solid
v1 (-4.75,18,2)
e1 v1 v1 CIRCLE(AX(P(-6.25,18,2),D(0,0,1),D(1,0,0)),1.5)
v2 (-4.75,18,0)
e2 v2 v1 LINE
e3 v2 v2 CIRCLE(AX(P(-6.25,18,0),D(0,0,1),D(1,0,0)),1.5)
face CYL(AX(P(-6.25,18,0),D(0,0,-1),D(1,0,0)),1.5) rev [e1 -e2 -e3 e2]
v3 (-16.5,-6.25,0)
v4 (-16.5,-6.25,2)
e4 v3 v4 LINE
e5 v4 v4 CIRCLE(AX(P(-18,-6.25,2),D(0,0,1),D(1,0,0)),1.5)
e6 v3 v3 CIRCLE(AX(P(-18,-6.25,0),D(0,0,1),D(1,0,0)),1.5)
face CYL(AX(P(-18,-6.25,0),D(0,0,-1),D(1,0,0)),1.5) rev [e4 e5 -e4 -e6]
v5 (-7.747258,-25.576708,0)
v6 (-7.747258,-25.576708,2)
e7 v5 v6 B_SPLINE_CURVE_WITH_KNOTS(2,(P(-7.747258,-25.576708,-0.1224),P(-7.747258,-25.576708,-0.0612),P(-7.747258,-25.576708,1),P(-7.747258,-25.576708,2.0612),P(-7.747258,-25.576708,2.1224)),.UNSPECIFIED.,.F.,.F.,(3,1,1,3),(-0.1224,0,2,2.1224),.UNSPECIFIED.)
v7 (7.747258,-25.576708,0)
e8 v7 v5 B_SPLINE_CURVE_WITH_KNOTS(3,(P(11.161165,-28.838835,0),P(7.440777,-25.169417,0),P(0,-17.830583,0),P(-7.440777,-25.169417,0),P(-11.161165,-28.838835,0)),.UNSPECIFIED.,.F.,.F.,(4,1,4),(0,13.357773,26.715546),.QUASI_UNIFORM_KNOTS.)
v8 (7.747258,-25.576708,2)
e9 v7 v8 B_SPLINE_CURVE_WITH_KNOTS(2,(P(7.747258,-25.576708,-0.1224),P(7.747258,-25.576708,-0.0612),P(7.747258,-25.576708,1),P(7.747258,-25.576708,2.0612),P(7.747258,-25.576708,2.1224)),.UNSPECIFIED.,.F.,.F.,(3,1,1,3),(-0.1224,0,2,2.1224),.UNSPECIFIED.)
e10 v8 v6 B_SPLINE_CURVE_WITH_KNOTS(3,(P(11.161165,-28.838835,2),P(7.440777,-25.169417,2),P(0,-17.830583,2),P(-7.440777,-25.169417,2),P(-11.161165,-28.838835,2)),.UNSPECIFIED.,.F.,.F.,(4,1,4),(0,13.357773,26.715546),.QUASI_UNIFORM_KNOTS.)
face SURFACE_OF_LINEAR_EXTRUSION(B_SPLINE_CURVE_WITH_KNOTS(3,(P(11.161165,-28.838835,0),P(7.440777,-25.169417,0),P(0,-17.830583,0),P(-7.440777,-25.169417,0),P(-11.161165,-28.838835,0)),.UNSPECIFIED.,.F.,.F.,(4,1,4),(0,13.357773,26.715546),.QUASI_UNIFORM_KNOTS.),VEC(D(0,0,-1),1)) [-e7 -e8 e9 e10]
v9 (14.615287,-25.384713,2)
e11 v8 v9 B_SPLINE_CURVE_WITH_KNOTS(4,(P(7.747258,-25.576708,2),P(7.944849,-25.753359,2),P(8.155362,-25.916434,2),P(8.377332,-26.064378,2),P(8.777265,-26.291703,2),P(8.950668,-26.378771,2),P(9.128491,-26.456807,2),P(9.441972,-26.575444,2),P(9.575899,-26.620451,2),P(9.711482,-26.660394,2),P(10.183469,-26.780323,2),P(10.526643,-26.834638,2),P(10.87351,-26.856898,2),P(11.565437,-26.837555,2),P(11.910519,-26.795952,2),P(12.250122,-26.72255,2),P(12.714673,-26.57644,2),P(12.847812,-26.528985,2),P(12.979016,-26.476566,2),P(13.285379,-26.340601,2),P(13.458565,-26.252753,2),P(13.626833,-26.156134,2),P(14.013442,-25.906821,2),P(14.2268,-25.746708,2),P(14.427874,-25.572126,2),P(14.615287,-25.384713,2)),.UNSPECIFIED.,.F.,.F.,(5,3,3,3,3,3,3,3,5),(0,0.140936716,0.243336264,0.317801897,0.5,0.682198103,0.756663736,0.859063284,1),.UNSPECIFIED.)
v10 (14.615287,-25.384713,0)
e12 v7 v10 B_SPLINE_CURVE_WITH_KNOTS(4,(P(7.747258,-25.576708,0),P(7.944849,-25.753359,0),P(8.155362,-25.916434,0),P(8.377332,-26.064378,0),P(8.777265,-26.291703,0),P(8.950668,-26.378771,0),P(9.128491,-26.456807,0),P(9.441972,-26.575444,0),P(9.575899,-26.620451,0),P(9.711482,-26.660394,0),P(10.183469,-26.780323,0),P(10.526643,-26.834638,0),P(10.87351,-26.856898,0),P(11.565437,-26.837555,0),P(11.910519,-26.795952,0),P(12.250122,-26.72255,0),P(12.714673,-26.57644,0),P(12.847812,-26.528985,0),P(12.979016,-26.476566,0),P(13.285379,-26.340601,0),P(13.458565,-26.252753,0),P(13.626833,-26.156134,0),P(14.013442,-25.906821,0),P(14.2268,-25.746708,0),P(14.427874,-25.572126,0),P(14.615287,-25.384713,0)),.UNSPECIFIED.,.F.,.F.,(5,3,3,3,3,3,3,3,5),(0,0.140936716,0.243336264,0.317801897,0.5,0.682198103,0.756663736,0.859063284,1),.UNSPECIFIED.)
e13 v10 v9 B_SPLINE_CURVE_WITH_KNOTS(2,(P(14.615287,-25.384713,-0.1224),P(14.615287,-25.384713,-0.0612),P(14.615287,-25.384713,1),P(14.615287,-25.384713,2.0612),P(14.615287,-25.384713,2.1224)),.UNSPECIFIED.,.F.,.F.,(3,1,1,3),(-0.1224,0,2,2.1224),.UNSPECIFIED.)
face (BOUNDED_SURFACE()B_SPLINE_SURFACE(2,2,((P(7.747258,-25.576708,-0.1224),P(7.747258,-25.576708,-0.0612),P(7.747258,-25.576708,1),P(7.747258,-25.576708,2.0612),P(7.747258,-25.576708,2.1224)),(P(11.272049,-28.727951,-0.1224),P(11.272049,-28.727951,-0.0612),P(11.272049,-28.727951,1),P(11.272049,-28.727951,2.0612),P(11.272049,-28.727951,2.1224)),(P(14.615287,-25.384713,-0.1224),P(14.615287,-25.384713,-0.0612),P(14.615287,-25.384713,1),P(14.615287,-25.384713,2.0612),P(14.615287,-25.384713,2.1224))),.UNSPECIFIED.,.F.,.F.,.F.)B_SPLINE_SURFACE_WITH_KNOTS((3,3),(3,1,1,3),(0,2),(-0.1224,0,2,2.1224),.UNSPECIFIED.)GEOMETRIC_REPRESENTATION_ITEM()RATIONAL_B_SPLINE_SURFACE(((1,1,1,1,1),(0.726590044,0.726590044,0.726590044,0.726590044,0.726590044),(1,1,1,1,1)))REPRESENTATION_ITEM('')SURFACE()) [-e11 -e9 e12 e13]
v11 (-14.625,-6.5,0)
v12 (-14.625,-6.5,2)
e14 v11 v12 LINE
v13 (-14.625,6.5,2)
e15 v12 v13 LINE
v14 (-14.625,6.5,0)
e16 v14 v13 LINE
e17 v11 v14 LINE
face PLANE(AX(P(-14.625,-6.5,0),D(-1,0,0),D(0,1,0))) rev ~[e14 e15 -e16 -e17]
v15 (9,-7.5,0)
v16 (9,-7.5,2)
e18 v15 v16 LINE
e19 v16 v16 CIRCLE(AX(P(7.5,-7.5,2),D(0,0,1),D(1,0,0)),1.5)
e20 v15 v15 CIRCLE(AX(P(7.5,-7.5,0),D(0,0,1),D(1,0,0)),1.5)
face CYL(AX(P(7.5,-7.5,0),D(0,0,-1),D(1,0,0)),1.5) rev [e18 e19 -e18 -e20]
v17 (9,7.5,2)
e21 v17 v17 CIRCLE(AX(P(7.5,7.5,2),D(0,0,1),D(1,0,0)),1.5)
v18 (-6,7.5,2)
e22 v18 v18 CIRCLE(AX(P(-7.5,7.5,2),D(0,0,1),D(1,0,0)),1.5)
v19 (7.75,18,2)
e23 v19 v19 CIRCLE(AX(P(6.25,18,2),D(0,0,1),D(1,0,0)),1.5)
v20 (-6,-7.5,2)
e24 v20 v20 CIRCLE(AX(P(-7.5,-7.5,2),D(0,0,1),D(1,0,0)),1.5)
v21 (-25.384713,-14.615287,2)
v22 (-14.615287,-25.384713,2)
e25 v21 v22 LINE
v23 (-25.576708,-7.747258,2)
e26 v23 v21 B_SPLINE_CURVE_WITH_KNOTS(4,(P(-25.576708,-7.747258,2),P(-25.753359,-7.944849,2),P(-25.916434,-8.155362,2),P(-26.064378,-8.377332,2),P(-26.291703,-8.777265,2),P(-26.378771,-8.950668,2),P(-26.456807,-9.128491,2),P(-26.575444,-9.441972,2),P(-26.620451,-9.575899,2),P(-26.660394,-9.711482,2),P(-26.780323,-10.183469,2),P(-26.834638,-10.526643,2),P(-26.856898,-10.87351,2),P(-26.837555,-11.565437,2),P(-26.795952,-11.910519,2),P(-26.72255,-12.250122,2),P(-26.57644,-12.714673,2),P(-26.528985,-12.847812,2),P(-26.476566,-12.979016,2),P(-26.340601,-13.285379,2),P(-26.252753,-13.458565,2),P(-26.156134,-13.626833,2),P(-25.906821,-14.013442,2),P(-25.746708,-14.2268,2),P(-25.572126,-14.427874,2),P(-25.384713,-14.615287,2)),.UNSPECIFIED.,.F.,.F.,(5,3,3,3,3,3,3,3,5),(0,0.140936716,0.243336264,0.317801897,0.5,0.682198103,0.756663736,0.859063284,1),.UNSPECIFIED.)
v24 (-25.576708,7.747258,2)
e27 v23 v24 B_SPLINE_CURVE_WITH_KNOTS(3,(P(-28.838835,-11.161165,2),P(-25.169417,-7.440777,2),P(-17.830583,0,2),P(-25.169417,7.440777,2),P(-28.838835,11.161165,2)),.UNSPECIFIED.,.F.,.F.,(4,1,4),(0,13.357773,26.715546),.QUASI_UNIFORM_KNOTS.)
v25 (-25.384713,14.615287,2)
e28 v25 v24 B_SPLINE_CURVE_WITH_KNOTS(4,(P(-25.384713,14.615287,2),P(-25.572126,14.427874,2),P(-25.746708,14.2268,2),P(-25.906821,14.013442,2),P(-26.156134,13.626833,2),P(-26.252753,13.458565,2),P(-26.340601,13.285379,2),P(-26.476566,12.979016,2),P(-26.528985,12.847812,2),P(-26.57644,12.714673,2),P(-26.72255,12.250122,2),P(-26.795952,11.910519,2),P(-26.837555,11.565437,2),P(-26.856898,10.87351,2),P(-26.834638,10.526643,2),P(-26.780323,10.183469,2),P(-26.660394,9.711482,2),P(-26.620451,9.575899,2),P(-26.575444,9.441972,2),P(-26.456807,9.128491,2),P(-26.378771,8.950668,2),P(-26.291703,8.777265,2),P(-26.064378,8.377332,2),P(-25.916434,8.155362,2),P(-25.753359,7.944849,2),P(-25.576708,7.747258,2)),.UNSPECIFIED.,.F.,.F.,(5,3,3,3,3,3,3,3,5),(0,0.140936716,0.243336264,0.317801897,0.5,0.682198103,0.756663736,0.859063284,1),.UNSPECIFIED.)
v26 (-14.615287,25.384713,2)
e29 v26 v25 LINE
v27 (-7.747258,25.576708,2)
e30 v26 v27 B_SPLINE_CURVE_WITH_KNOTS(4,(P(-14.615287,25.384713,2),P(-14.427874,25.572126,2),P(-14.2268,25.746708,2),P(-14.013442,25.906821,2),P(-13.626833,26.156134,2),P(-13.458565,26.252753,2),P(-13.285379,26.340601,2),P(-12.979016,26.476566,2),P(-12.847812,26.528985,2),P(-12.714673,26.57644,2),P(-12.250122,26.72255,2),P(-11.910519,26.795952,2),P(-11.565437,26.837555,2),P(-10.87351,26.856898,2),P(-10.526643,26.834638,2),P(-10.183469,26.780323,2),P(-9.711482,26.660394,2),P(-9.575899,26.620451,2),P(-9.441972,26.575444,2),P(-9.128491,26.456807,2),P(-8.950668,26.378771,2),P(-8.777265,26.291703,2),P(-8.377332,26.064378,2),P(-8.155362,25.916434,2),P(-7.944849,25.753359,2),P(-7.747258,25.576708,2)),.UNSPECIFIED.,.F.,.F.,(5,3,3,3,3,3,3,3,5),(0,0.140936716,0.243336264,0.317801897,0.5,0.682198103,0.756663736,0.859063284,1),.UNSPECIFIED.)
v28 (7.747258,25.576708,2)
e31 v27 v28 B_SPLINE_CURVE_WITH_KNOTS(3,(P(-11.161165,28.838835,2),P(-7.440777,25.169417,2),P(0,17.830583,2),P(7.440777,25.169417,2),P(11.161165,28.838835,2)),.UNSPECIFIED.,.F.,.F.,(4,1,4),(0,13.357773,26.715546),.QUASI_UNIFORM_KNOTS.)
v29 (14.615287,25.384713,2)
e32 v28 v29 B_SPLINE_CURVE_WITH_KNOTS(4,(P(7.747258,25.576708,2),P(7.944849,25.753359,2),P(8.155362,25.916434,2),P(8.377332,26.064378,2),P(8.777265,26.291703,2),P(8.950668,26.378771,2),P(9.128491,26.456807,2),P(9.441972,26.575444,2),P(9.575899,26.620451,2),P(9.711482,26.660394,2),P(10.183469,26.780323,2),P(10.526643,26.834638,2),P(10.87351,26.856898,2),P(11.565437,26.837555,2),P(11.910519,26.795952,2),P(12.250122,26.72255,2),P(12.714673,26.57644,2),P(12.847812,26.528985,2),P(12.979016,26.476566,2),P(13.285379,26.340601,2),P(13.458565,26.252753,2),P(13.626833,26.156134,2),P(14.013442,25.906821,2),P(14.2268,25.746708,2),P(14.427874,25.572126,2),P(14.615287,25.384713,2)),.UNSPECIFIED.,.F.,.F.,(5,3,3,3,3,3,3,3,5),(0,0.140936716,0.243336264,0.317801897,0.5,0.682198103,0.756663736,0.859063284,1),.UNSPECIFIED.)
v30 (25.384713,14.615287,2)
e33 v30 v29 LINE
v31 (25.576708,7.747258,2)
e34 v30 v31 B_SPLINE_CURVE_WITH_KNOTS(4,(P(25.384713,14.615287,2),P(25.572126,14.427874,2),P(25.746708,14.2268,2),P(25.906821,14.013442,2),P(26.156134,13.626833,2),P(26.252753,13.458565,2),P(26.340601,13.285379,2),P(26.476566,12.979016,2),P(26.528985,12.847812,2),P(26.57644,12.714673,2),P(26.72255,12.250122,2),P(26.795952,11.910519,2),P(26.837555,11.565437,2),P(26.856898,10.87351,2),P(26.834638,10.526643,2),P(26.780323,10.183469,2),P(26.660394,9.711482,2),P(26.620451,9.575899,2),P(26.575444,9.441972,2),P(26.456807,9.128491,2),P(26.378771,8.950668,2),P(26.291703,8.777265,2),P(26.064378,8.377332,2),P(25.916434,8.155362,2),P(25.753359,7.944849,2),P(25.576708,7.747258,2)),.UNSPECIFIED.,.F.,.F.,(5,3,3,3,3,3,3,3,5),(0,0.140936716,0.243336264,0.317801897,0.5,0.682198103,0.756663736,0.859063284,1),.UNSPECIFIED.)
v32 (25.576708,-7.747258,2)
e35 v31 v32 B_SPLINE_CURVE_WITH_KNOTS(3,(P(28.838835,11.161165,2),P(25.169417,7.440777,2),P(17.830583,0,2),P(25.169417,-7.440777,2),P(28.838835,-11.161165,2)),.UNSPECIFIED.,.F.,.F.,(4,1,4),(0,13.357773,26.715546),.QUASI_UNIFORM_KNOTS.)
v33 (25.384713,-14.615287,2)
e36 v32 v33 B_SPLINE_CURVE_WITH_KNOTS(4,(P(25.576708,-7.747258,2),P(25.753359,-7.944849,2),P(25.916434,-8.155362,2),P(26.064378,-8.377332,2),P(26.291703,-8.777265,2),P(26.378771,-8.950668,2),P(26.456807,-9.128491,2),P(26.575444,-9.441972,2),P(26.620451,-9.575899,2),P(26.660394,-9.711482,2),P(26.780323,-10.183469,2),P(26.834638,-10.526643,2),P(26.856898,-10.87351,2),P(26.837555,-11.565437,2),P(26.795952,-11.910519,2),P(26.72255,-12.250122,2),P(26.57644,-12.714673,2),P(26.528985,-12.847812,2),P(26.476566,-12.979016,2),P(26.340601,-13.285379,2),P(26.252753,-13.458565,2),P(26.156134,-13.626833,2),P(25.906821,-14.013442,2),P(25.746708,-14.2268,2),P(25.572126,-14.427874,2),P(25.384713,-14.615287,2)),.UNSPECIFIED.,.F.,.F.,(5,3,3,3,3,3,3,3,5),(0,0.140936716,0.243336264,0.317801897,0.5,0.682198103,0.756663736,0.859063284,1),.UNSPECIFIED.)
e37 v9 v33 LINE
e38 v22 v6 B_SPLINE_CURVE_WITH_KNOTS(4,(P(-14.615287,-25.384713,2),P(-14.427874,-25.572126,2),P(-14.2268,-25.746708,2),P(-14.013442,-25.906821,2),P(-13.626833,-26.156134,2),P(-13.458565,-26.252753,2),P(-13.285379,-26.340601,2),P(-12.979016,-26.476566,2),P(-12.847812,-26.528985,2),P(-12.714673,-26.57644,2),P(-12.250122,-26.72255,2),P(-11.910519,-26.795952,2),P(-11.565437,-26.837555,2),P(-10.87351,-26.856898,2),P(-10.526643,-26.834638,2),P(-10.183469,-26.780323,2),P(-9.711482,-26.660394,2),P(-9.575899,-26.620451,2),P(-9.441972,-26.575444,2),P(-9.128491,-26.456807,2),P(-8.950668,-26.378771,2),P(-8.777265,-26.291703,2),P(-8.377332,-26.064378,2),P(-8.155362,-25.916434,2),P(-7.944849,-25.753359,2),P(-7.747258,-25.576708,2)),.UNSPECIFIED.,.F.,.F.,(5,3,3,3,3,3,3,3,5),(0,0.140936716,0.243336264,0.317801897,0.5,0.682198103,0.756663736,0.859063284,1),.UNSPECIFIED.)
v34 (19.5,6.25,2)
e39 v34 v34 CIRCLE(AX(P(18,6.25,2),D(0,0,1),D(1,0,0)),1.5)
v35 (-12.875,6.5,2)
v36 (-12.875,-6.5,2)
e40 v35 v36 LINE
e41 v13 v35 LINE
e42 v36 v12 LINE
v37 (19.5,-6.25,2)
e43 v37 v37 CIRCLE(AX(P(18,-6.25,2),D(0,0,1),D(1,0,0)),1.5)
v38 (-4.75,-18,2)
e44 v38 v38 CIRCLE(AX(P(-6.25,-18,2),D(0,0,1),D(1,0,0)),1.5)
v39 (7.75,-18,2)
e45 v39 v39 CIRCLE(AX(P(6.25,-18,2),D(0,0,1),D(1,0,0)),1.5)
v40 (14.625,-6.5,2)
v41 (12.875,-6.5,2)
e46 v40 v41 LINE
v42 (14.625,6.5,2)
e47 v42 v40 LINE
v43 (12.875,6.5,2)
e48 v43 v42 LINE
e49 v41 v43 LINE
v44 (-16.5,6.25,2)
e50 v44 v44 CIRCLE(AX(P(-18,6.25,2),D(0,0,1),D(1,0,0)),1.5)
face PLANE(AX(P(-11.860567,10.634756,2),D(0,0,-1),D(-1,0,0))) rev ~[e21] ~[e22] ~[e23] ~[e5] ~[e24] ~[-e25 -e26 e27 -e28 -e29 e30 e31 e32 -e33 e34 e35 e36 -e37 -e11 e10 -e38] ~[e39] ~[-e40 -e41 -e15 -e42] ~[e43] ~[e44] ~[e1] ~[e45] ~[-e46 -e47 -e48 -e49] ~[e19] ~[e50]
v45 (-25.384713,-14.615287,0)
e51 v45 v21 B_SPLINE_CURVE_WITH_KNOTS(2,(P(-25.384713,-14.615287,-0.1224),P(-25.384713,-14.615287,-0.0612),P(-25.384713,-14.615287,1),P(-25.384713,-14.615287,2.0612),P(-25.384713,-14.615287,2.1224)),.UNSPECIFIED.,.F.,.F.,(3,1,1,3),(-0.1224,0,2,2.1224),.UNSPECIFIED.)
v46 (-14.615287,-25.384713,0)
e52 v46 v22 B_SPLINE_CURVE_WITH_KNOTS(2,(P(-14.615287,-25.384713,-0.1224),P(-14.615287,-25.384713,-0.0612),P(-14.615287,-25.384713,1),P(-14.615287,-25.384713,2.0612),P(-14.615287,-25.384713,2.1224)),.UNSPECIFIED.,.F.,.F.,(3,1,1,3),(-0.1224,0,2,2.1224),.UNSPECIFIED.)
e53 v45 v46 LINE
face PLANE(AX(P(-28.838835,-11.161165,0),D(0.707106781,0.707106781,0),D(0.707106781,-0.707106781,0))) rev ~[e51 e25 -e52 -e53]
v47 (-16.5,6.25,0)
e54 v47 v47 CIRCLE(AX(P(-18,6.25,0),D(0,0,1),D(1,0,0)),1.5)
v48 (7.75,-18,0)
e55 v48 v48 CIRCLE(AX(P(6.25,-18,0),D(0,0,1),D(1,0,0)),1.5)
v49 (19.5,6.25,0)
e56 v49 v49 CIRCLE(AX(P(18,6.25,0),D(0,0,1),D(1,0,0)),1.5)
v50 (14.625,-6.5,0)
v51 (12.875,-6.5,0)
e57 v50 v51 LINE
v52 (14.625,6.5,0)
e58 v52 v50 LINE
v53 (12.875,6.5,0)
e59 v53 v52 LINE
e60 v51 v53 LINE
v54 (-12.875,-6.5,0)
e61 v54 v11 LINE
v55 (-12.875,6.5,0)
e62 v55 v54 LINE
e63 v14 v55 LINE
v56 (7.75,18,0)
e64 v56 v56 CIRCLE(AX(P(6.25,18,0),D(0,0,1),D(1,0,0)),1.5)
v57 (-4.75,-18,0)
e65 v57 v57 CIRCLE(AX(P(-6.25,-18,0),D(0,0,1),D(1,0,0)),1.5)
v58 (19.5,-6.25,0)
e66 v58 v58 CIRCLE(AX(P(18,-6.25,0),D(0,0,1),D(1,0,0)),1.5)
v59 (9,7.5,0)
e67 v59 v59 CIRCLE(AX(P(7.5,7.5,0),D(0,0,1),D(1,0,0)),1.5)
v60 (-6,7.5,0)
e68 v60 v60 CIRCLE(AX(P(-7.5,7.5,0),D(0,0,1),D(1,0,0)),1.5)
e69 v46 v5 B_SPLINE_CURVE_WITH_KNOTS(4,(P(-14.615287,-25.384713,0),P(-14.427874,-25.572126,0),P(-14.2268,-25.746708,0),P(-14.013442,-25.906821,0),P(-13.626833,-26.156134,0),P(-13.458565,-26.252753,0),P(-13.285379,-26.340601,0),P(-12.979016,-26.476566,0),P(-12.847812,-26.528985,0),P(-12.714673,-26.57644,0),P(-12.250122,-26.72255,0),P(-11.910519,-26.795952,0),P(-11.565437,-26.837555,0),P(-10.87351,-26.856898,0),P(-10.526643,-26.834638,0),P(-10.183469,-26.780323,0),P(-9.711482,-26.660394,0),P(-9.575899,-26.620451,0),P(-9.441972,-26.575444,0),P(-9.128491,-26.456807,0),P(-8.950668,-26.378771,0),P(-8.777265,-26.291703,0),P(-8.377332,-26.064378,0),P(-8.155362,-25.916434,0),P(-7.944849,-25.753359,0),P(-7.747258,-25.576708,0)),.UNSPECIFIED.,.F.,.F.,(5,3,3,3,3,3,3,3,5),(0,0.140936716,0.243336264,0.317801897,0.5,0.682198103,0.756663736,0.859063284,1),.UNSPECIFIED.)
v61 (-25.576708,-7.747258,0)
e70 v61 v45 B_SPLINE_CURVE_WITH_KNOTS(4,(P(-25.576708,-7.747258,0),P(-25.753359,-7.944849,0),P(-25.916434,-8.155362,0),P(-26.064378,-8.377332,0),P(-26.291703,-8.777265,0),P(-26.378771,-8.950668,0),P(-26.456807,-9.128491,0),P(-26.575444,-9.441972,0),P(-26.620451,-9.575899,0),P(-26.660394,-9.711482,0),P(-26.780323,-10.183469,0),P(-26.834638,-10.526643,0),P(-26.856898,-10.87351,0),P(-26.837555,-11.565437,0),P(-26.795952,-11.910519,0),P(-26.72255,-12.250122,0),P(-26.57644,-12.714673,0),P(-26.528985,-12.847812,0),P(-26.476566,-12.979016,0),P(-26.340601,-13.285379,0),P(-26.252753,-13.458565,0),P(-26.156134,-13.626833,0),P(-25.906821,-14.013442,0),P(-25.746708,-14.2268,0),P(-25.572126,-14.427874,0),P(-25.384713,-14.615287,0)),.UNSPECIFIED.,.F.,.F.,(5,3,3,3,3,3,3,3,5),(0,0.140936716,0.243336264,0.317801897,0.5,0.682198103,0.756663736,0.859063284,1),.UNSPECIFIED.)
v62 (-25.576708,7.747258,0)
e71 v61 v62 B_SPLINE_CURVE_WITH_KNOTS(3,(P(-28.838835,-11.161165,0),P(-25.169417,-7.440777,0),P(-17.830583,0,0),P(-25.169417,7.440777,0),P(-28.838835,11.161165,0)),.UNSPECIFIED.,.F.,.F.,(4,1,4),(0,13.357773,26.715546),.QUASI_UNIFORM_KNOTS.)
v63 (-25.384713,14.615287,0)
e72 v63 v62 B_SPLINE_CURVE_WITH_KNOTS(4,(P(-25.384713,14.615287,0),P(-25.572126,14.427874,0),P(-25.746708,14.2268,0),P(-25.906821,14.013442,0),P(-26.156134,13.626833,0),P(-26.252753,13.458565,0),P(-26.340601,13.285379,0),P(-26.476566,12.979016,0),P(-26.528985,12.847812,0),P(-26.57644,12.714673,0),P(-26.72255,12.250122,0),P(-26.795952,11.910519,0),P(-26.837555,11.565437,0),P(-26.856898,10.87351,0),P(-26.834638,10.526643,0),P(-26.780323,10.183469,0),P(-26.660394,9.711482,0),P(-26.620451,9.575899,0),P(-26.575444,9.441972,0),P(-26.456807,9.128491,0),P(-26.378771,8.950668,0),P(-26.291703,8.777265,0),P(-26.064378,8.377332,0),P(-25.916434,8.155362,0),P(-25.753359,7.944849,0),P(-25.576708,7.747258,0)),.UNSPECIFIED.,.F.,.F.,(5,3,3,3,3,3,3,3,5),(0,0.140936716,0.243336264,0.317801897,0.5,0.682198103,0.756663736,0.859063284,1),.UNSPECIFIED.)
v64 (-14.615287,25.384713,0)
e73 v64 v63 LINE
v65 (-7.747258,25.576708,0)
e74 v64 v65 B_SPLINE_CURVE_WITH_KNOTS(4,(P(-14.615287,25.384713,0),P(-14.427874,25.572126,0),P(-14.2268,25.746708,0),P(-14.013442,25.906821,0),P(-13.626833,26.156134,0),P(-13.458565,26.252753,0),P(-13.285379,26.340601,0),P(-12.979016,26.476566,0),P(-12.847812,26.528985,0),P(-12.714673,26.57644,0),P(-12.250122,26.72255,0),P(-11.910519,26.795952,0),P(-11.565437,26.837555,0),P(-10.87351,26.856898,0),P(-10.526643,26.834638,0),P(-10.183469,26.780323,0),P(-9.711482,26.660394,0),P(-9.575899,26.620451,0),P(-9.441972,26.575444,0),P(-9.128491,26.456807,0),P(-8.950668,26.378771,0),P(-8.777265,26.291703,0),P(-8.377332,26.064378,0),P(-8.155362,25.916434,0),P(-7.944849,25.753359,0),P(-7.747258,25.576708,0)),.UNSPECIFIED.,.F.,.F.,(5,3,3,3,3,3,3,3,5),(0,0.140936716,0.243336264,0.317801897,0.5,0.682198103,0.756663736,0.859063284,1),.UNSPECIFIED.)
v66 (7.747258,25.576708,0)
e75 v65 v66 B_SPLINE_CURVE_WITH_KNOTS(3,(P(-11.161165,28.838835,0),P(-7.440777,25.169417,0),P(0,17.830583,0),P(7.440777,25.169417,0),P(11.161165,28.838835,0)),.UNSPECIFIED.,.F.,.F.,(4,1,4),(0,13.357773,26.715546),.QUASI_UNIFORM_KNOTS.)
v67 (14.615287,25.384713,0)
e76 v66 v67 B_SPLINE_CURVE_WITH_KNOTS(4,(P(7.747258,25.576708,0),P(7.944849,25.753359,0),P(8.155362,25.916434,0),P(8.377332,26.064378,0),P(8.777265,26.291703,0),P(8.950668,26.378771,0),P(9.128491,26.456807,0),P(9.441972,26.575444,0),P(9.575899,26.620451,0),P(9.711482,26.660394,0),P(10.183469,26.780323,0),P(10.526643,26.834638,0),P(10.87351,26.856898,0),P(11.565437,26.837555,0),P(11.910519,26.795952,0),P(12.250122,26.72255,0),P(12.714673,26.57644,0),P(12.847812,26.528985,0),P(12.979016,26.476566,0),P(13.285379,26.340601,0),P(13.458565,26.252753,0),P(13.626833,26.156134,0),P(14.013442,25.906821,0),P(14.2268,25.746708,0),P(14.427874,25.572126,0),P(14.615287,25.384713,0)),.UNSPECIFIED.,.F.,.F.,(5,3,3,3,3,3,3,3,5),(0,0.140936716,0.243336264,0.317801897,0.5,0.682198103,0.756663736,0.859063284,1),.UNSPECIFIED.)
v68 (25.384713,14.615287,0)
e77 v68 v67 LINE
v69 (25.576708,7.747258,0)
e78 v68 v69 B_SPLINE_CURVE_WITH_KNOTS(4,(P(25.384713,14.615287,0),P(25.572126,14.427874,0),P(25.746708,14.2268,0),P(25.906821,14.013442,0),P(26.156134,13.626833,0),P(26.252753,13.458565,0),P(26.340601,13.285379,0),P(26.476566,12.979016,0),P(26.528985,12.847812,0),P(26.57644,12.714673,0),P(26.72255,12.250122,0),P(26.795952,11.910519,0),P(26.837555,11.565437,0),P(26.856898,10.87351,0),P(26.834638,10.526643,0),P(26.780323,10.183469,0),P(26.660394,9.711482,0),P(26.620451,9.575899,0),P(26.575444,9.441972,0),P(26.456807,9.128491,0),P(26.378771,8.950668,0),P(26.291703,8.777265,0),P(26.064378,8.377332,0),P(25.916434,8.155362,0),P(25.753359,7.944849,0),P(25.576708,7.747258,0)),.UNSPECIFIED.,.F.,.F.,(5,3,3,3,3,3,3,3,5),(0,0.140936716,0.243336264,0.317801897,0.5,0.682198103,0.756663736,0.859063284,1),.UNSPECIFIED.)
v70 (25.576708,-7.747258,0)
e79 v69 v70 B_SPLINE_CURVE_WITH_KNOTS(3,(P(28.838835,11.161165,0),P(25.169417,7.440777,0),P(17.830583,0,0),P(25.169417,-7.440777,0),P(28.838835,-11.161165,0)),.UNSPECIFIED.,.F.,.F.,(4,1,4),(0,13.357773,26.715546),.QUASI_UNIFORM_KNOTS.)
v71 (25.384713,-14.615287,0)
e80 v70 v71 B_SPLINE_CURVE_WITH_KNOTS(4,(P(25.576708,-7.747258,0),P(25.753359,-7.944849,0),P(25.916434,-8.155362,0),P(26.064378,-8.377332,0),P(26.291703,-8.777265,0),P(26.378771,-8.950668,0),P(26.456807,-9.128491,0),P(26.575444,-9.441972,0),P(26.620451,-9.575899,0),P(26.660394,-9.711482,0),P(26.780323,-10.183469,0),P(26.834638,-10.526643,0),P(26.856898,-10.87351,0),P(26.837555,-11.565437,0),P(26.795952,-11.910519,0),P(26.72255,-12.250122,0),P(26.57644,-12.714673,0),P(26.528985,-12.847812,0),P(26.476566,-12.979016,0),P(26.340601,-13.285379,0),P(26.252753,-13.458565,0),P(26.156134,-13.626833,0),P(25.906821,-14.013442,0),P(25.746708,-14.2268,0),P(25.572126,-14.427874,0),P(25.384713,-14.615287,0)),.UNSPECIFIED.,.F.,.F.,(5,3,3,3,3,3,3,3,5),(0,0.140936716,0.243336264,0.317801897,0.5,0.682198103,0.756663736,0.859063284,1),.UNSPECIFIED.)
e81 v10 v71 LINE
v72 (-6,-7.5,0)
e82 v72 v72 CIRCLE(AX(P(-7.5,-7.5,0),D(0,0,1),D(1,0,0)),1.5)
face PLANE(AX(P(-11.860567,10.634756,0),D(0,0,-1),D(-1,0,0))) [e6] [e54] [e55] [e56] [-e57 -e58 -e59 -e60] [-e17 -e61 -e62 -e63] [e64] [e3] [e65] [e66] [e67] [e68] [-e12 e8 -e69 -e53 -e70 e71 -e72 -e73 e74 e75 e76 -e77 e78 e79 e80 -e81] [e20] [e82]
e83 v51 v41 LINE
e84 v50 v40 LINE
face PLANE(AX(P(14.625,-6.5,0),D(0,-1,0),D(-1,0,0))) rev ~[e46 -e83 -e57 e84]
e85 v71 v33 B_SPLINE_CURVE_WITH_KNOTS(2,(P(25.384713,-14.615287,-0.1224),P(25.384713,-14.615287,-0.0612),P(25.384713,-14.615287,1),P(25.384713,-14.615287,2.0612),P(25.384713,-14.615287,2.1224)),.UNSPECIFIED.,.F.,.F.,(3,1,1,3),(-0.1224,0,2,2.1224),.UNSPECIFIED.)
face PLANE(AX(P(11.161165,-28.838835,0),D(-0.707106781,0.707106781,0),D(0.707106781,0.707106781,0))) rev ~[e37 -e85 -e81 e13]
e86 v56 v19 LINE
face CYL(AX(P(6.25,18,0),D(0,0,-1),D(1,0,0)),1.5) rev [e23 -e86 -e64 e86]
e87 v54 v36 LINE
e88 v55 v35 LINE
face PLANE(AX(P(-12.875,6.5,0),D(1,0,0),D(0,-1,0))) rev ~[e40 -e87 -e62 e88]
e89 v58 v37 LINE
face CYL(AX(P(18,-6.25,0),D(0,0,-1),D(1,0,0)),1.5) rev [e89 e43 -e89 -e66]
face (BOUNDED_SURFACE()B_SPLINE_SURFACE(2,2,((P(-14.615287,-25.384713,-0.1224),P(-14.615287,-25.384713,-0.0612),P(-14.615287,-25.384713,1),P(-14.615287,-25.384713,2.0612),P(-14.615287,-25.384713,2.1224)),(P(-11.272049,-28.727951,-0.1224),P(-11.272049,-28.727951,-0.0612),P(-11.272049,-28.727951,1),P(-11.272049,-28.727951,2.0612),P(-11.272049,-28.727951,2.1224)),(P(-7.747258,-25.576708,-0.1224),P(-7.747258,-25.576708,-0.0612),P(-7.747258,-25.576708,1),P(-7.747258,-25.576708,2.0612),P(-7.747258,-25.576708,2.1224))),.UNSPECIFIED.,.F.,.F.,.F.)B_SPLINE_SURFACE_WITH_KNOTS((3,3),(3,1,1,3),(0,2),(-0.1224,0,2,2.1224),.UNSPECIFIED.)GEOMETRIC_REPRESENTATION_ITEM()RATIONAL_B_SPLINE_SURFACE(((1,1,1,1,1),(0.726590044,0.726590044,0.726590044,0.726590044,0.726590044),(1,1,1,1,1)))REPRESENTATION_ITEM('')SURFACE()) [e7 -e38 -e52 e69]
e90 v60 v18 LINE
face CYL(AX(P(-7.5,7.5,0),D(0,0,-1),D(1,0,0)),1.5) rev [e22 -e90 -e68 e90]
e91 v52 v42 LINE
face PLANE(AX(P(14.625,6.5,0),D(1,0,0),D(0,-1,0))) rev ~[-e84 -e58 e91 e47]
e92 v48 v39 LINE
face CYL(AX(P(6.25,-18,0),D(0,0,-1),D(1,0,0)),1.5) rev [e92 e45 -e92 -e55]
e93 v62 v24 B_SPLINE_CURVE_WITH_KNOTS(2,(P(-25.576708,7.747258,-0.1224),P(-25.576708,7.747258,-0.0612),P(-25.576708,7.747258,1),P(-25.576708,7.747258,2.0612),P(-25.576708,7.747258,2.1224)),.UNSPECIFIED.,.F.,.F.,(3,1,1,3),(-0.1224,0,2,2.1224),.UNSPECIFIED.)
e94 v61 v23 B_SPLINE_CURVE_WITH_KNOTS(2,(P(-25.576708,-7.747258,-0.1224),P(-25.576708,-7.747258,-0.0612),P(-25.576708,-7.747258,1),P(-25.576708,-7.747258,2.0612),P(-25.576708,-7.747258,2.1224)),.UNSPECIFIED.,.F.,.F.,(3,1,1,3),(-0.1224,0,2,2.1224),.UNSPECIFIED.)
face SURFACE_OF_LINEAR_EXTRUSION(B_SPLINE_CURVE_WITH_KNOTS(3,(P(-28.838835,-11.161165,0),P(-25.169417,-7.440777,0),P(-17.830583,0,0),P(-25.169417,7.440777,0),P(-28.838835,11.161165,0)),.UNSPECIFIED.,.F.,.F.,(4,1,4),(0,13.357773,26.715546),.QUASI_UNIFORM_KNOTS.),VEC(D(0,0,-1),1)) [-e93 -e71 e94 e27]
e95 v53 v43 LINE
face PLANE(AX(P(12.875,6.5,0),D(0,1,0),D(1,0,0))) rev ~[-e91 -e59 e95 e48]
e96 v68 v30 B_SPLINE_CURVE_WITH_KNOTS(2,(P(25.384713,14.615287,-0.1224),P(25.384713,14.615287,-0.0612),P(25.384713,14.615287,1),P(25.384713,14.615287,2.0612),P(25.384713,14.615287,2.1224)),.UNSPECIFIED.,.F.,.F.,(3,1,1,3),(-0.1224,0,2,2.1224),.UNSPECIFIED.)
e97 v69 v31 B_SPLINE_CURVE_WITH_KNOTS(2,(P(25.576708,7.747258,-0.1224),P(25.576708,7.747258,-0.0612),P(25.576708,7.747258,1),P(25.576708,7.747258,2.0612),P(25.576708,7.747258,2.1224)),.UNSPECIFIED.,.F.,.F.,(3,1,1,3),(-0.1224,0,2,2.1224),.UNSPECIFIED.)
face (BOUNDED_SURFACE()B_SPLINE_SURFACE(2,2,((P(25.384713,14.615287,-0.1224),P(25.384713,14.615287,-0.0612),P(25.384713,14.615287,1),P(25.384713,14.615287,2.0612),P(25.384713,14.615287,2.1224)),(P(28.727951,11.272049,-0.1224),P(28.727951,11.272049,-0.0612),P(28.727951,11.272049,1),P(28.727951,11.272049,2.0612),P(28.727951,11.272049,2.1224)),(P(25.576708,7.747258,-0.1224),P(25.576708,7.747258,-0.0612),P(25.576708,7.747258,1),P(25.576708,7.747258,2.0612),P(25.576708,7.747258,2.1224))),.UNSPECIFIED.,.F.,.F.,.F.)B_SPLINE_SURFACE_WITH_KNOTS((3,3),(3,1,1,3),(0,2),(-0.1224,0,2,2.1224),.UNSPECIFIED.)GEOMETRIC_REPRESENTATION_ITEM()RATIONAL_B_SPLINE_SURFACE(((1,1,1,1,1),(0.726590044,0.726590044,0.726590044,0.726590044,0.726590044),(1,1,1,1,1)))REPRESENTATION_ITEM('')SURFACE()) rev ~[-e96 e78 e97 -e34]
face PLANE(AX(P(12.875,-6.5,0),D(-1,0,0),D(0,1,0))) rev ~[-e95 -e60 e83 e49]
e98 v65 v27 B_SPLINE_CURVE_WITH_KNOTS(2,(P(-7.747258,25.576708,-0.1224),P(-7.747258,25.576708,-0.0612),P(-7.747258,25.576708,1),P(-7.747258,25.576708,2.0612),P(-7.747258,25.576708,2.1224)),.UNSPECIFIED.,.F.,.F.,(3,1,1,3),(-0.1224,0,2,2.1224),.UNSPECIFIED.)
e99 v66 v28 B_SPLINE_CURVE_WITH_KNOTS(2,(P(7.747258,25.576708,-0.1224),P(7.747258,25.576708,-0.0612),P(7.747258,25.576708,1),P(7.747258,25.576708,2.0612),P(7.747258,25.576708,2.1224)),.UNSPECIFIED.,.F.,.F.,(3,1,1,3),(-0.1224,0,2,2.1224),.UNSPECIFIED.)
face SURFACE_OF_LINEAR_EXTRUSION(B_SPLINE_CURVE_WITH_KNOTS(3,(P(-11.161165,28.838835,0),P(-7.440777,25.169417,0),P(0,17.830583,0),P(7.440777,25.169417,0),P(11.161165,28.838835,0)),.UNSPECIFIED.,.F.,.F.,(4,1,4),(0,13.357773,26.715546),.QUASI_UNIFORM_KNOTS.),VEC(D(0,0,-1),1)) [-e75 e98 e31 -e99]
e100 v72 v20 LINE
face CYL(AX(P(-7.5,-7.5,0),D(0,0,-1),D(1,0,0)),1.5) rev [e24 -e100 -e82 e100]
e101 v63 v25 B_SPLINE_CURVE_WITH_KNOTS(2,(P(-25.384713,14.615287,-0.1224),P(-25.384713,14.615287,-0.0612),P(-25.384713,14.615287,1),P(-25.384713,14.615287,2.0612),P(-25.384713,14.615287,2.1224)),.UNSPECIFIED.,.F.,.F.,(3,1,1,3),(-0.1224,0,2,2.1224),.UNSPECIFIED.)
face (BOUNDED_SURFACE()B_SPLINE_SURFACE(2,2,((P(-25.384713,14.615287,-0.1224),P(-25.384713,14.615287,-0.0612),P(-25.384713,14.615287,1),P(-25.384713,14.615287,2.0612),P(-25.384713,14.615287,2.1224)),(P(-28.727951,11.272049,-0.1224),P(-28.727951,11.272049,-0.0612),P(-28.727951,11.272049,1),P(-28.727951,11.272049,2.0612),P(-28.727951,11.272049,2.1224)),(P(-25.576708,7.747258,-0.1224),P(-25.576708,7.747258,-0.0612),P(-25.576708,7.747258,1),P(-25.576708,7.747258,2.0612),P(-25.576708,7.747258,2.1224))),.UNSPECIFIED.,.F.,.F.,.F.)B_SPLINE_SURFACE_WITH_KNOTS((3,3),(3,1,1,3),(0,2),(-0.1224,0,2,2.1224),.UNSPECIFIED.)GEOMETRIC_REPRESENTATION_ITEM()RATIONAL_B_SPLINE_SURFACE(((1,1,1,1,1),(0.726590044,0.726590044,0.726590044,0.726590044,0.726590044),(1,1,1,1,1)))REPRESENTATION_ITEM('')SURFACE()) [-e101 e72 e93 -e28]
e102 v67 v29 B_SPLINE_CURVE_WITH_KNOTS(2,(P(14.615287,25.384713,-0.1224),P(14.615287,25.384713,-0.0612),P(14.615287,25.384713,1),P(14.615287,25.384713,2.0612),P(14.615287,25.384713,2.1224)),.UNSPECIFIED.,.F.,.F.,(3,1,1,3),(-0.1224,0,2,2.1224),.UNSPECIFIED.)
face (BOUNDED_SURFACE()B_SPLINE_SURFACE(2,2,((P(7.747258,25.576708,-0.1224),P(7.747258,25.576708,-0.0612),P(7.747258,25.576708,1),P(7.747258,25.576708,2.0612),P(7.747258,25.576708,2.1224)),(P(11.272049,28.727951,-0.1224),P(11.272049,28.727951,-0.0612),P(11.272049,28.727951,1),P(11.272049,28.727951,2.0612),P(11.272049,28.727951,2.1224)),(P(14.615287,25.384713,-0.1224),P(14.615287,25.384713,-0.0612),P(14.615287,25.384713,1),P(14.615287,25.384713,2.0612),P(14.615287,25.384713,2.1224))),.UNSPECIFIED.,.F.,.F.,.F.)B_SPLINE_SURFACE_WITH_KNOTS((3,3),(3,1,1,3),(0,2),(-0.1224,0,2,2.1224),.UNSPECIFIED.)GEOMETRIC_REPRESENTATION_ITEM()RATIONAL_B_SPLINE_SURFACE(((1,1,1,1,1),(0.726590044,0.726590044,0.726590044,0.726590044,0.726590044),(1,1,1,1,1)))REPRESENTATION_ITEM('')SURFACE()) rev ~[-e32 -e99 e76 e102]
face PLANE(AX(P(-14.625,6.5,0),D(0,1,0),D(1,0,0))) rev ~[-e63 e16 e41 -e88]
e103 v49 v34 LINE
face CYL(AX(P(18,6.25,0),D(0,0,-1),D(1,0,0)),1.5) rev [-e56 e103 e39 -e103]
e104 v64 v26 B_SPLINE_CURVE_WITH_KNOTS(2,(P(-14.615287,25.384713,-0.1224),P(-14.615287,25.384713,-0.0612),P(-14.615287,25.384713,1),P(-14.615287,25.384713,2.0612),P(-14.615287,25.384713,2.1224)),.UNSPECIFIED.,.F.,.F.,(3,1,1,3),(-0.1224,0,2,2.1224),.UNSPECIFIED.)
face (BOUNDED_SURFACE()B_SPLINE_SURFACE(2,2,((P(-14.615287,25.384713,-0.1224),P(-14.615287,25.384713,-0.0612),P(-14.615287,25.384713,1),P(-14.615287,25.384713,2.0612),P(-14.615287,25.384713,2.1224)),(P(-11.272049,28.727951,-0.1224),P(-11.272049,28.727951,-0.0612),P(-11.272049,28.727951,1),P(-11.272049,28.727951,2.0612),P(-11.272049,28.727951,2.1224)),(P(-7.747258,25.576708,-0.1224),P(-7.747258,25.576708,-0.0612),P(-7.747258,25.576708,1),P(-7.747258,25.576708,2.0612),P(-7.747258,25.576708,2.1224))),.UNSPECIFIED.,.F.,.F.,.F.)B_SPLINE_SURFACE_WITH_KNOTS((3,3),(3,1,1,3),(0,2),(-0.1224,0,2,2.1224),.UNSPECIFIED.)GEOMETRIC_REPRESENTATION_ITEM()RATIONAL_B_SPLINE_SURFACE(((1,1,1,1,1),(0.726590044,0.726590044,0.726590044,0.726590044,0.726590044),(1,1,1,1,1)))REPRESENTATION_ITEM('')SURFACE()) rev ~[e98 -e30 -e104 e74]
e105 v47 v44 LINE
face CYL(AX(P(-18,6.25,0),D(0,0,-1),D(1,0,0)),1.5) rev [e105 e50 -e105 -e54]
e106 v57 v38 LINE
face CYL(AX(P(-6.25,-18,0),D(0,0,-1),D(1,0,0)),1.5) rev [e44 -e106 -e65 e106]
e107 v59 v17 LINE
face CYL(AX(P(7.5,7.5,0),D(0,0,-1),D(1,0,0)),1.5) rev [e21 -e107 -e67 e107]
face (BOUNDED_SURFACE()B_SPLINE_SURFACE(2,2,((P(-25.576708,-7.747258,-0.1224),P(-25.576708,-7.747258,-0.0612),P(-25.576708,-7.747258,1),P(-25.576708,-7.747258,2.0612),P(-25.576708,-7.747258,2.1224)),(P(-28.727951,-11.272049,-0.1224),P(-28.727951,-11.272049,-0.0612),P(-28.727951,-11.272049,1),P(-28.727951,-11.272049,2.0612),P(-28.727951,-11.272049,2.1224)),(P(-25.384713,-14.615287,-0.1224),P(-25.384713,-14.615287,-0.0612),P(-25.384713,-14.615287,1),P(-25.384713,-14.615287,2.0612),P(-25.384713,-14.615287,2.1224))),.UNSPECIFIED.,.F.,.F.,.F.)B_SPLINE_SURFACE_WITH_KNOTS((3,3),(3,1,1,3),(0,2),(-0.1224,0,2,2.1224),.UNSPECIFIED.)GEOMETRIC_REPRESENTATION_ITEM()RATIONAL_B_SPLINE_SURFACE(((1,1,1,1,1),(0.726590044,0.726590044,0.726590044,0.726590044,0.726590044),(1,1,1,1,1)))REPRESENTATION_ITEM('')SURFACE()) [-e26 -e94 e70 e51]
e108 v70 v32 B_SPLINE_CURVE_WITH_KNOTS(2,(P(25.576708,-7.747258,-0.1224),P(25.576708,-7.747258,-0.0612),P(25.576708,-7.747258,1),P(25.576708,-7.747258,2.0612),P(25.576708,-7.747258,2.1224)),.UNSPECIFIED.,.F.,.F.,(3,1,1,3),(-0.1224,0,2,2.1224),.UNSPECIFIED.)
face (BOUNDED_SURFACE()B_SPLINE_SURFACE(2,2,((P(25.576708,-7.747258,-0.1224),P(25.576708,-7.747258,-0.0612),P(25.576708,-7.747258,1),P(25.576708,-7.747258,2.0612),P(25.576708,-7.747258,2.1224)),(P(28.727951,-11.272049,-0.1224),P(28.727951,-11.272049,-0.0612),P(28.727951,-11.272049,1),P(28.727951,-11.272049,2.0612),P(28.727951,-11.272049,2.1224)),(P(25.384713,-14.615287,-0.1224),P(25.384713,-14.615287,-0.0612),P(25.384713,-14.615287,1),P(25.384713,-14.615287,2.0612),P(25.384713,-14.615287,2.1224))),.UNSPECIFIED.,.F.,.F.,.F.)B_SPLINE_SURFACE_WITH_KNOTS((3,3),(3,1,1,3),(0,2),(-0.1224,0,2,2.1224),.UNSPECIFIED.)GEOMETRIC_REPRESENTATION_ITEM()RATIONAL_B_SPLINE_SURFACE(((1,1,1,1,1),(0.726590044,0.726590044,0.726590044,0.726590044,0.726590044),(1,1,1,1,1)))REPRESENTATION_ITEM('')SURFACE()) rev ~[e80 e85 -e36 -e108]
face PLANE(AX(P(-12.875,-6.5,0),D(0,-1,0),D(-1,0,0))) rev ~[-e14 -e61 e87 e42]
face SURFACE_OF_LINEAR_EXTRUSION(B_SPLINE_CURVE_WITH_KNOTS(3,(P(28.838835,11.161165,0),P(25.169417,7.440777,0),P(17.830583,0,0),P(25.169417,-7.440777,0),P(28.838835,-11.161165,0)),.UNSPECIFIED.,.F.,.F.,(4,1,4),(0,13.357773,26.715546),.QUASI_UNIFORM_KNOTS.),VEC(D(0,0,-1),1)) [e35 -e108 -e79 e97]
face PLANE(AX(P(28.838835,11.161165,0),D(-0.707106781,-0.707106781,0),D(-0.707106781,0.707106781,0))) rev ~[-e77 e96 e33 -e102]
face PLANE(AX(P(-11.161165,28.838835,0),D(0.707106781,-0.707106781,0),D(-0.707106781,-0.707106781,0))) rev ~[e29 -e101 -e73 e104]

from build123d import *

# Parameters (mm, degrees)
F0_R     = 1.5
F1_DEPTH = 2
F2_R     = 5


with BuildPart() as f1:
    # F0 (on Top) → F1 (new body)
    with BuildSketch(Plane.XY):
        with BuildLine():
            add(Edge.make_bspline(
                [(-13.142859, 26.857141), (-8.951076, 24.20284), (-4.564468, 21.895542), (0, 20)],
                knots=[66.18026, 66.18026, 66.18026, 66.18026, 80.865454, 80.865454, 80.865454, 80.865454], degree=3))
            Line((-13.142859, 26.857141), (-20, 20))
            Line((-20, 20), (-26.857141, 13.142859))
            add(Edge.make_bspline(
                [(-26.857141, 13.142859), (-24.20284, 8.951076), (-21.895542, 4.564468), (-20, 0)],
                knots=[66.18026, 66.18026, 66.18026, 66.18026, 80.865454, 80.865454, 80.865454, 80.865454], degree=3))
            Line((-20, 0), (-14.625, 0))
            Line((-14.625, 0), (-14.625, 6.5))
            Line((-14.625, 6.5), (-12.875, 6.5))
            Line((-12.875, 6.5), (-12.875, 0))
            Line((-12.875, 0), (0, 0))
            Line((0, 0), (0, 20))
        make_face()
        with Locations((-18, 6.25)):
            Circle(F0_R, mode=Mode.SUBTRACT)
        with Locations((-7.5, 7.5)):
            Circle(F0_R, mode=Mode.SUBTRACT)
        with Locations((-6.25, 18)):
            Circle(F0_R, mode=Mode.SUBTRACT)
        with BuildLine():
            Line((-14.625, 0), (-20, 0))
            add(Edge.make_bspline(
                [(-26.854903, -13.145097), (-24.198754, -8.951027), (-21.891877, -4.563394), (-20, 0)],
                knots=[66.166, 66.166, 66.166, 66.166, 80.865454, 80.865454, 80.865454, 80.865454], degree=3))
            Line((-26.854903, -13.145097), (-20, -20))
            Line((-20, -20), (-13.145097, -26.854903))
            add(Edge.make_bspline(
                [(0, -20), (-4.563394, -21.891877), (-8.951027, -24.198754), (-13.145097, -26.854903)],
                knots=[0, 0, 0, 0, 14.699453, 14.699453, 14.699453, 14.699453], degree=3))
            Line((0, -20), (0, 0))
            Line((0, 0), (-12.875, 0))
            Line((-12.875, 0), (-12.875, -6.5))
            Line((-12.875, -6.5), (-14.625, -6.5))
            Line((-14.625, -6.5), (-14.625, 0))
        make_face()
        with Locations((-6.25, -18)):
            Circle(F0_R, mode=Mode.SUBTRACT)
        with Locations((-18, -6.25)):
            Circle(F0_R, mode=Mode.SUBTRACT)
        with Locations((-7.5, -7.5)):
            Circle(F0_R, mode=Mode.SUBTRACT)
        with BuildLine():
            Line((-11.161165, 28.838835), (-13.142859, 26.857141))
            add(Edge.make_bspline(
                [(-13.142859, 26.857141), (-8.951076, 24.20284), (-4.564468, 21.895542), (0, 20)],
                knots=[66.18026, 66.18026, 66.18026, 66.18026, 80.865454, 80.865454, 80.865454, 80.865454], degree=3))
            add(Edge.make_bspline(
                [(13.145097, 26.854903), (8.951027, 24.198754), (4.563394, 21.891877), (0, 20)],
                knots=[66.166, 66.166, 66.166, 66.166, 80.865454, 80.865454, 80.865454, 80.865454], degree=3))
            Line((13.145097, 26.854903), (11.161165, 28.838835))
            add(Edge.make_bspline(
                [(-11.161165, 28.838835), (-7.440777, 25.169417), (0, 17.830583), (7.440777, 25.169417), (11.161165, 28.838835)],
                knots=[0, 0, 0, 0, 13.357773, 26.715546, 26.715546, 26.715546, 26.715546], degree=3))
        make_face()
        with BuildLine():
            add(Edge.make_bspline(
                [(-26.857141, 13.142859), (-24.20284, 8.951076), (-21.895542, 4.564468), (-20, 0)],
                knots=[66.18026, 66.18026, 66.18026, 66.18026, 80.865454, 80.865454, 80.865454, 80.865454], degree=3))
            Line((-26.857141, 13.142859), (-28.838835, 11.161165))
            add(Edge.make_bspline(
                [(-28.838835, -11.161165), (-25.169417, -7.440777), (-17.830583, 0), (-25.169417, 7.440777), (-28.838835, 11.161165)],
                knots=[0, 0, 0, 0, 13.357773, 26.715546, 26.715546, 26.715546, 26.715546], degree=3))
            Line((-28.838835, -11.161165), (-26.854903, -13.145097))
            add(Edge.make_bspline(
                [(-26.854903, -13.145097), (-24.198754, -8.951027), (-21.891877, -4.563394), (-20, 0)],
                knots=[66.166, 66.166, 66.166, 66.166, 80.865454, 80.865454, 80.865454, 80.865454], degree=3))
        make_face()
        with BuildLine():
            Line((28.838835, 11.161165), (26.854903, 13.145097))
            add(Edge.make_bspline(
                [(26.854903, 13.145097), (24.198754, 8.951027), (21.891877, 4.563394), (20, 0)],
                knots=[66.166, 66.166, 66.166, 66.166, 80.865454, 80.865454, 80.865454, 80.865454], degree=3))
            add(Edge.make_bspline(
                [(20, 0), (21.891877, -4.563394), (24.198754, -8.951027), (26.854903, -13.145097)],
                knots=[0, 0, 0, 0, 14.699454, 14.699454, 14.699454, 14.699454], degree=3))
            Line((26.854903, -13.145097), (28.838835, -11.161165))
            add(Edge.make_bspline(
                [(28.838835, 11.161165), (25.169417, 7.440777), (17.830583, 0), (25.169417, -7.440777), (28.838835, -11.161165)],
                knots=[0, 0, 0, 0, 13.357773, 26.715546, 26.715546, 26.715546, 26.715546], degree=3))
        make_face()
        with BuildLine():
            Line((12.875, 0), (0, 0))
            Line((0, 0), (0, -20))
            add(Edge.make_bspline(
                [(0, -20), (4.563394, -21.891877), (8.951027, -24.198754), (13.145097, -26.854903)],
                knots=[0, 0, 0, 0, 14.699453, 14.699453, 14.699453, 14.699453], degree=3))
            Line((13.145097, -26.854903), (20, -20))
            Line((20, -20), (26.854903, -13.145097))
            add(Edge.make_bspline(
                [(20, 0), (21.891877, -4.563394), (24.198754, -8.951027), (26.854903, -13.145097)],
                knots=[0, 0, 0, 0, 14.699454, 14.699454, 14.699454, 14.699454], degree=3))
            Line((20, 0), (14.625, 0))
            Line((14.625, 0), (14.625, -6.5))
            Line((14.625, -6.5), (12.875, -6.5))
            Line((12.875, -6.5), (12.875, 0))
        make_face()
        with Locations((6.25, -18)):
            Circle(F0_R, mode=Mode.SUBTRACT)
        with Locations((7.5, -7.5)):
            Circle(F0_R, mode=Mode.SUBTRACT)
        with Locations((18, -6.25)):
            Circle(F0_R, mode=Mode.SUBTRACT)
        with BuildLine():
            add(Edge.make_bspline(
                [(0, -20), (4.563394, -21.891877), (8.951027, -24.198754), (13.145097, -26.854903)],
                knots=[0, 0, 0, 0, 14.699453, 14.699453, 14.699453, 14.699453], degree=3))
            add(Edge.make_bspline(
                [(0, -20), (-4.563394, -21.891877), (-8.951027, -24.198754), (-13.145097, -26.854903)],
                knots=[0, 0, 0, 0, 14.699453, 14.699453, 14.699453, 14.699453], degree=3))
            Line((-13.145097, -26.854903), (-11.161165, -28.838835))
            add(Edge.make_bspline(
                [(11.161165, -28.838835), (7.440777, -25.169417), (0, -17.830583), (-7.440777, -25.169417), (-11.161165, -28.838835)],
                knots=[0, 0, 0, 0, 13.357773, 26.715546, 26.715546, 26.715546, 26.715546], degree=3))
            Line((11.161165, -28.838835), (13.145097, -26.854903))
        make_face()
        with BuildLine():
            add(Edge.make_bspline(
                [(13.145097, 26.854903), (8.951027, 24.198754), (4.563394, 21.891877), (0, 20)],
                knots=[66.166, 66.166, 66.166, 66.166, 80.865454, 80.865454, 80.865454, 80.865454], degree=3))
            Line((0, 20), (0, 0))
            Line((0, 0), (12.875, 0))
            Line((12.875, 0), (12.875, 6.5))
            Line((12.875, 6.5), (14.625, 6.5))
            Line((14.625, 6.5), (14.625, 0))
            Line((14.625, 0), (20, 0))
            add(Edge.make_bspline(
                [(26.854903, 13.145097), (24.198754, 8.951027), (21.891877, 4.563394), (20, 0)],
                knots=[66.166, 66.166, 66.166, 66.166, 80.865454, 80.865454, 80.865454, 80.865454], degree=3))
            Line((26.854903, 13.145097), (20, 20))
            Line((20, 20), (13.145097, 26.854903))
        make_face()
        with Locations((7.5, 7.5)):
            Circle(F0_R, mode=Mode.SUBTRACT)
        with Locations((18, 6.25)):
            Circle(F0_R, mode=Mode.SUBTRACT)
        with Locations((6.25, 18)):
            Circle(F0_R, mode=Mode.SUBTRACT)
    extrude(amount=F1_DEPTH)

    # F2
    f2_edges = [f1.edges().sort_by_distance(p)[0] for p in [
        (-11.161165, 28.838835, 1),
        (-28.838835, 11.161165, 1),
        (11.161165, 28.838835, 1),
        (28.838835, 11.161165, 1),
        (28.838835, -11.161165, 1),
        (11.161165, -28.838835, 1),
        (-11.161165, -28.838835, 1),
        (-28.838835, -11.161165, 1),
    ]]
    fillet(f2_edges, radius=F2_R)


solid = f1.part
